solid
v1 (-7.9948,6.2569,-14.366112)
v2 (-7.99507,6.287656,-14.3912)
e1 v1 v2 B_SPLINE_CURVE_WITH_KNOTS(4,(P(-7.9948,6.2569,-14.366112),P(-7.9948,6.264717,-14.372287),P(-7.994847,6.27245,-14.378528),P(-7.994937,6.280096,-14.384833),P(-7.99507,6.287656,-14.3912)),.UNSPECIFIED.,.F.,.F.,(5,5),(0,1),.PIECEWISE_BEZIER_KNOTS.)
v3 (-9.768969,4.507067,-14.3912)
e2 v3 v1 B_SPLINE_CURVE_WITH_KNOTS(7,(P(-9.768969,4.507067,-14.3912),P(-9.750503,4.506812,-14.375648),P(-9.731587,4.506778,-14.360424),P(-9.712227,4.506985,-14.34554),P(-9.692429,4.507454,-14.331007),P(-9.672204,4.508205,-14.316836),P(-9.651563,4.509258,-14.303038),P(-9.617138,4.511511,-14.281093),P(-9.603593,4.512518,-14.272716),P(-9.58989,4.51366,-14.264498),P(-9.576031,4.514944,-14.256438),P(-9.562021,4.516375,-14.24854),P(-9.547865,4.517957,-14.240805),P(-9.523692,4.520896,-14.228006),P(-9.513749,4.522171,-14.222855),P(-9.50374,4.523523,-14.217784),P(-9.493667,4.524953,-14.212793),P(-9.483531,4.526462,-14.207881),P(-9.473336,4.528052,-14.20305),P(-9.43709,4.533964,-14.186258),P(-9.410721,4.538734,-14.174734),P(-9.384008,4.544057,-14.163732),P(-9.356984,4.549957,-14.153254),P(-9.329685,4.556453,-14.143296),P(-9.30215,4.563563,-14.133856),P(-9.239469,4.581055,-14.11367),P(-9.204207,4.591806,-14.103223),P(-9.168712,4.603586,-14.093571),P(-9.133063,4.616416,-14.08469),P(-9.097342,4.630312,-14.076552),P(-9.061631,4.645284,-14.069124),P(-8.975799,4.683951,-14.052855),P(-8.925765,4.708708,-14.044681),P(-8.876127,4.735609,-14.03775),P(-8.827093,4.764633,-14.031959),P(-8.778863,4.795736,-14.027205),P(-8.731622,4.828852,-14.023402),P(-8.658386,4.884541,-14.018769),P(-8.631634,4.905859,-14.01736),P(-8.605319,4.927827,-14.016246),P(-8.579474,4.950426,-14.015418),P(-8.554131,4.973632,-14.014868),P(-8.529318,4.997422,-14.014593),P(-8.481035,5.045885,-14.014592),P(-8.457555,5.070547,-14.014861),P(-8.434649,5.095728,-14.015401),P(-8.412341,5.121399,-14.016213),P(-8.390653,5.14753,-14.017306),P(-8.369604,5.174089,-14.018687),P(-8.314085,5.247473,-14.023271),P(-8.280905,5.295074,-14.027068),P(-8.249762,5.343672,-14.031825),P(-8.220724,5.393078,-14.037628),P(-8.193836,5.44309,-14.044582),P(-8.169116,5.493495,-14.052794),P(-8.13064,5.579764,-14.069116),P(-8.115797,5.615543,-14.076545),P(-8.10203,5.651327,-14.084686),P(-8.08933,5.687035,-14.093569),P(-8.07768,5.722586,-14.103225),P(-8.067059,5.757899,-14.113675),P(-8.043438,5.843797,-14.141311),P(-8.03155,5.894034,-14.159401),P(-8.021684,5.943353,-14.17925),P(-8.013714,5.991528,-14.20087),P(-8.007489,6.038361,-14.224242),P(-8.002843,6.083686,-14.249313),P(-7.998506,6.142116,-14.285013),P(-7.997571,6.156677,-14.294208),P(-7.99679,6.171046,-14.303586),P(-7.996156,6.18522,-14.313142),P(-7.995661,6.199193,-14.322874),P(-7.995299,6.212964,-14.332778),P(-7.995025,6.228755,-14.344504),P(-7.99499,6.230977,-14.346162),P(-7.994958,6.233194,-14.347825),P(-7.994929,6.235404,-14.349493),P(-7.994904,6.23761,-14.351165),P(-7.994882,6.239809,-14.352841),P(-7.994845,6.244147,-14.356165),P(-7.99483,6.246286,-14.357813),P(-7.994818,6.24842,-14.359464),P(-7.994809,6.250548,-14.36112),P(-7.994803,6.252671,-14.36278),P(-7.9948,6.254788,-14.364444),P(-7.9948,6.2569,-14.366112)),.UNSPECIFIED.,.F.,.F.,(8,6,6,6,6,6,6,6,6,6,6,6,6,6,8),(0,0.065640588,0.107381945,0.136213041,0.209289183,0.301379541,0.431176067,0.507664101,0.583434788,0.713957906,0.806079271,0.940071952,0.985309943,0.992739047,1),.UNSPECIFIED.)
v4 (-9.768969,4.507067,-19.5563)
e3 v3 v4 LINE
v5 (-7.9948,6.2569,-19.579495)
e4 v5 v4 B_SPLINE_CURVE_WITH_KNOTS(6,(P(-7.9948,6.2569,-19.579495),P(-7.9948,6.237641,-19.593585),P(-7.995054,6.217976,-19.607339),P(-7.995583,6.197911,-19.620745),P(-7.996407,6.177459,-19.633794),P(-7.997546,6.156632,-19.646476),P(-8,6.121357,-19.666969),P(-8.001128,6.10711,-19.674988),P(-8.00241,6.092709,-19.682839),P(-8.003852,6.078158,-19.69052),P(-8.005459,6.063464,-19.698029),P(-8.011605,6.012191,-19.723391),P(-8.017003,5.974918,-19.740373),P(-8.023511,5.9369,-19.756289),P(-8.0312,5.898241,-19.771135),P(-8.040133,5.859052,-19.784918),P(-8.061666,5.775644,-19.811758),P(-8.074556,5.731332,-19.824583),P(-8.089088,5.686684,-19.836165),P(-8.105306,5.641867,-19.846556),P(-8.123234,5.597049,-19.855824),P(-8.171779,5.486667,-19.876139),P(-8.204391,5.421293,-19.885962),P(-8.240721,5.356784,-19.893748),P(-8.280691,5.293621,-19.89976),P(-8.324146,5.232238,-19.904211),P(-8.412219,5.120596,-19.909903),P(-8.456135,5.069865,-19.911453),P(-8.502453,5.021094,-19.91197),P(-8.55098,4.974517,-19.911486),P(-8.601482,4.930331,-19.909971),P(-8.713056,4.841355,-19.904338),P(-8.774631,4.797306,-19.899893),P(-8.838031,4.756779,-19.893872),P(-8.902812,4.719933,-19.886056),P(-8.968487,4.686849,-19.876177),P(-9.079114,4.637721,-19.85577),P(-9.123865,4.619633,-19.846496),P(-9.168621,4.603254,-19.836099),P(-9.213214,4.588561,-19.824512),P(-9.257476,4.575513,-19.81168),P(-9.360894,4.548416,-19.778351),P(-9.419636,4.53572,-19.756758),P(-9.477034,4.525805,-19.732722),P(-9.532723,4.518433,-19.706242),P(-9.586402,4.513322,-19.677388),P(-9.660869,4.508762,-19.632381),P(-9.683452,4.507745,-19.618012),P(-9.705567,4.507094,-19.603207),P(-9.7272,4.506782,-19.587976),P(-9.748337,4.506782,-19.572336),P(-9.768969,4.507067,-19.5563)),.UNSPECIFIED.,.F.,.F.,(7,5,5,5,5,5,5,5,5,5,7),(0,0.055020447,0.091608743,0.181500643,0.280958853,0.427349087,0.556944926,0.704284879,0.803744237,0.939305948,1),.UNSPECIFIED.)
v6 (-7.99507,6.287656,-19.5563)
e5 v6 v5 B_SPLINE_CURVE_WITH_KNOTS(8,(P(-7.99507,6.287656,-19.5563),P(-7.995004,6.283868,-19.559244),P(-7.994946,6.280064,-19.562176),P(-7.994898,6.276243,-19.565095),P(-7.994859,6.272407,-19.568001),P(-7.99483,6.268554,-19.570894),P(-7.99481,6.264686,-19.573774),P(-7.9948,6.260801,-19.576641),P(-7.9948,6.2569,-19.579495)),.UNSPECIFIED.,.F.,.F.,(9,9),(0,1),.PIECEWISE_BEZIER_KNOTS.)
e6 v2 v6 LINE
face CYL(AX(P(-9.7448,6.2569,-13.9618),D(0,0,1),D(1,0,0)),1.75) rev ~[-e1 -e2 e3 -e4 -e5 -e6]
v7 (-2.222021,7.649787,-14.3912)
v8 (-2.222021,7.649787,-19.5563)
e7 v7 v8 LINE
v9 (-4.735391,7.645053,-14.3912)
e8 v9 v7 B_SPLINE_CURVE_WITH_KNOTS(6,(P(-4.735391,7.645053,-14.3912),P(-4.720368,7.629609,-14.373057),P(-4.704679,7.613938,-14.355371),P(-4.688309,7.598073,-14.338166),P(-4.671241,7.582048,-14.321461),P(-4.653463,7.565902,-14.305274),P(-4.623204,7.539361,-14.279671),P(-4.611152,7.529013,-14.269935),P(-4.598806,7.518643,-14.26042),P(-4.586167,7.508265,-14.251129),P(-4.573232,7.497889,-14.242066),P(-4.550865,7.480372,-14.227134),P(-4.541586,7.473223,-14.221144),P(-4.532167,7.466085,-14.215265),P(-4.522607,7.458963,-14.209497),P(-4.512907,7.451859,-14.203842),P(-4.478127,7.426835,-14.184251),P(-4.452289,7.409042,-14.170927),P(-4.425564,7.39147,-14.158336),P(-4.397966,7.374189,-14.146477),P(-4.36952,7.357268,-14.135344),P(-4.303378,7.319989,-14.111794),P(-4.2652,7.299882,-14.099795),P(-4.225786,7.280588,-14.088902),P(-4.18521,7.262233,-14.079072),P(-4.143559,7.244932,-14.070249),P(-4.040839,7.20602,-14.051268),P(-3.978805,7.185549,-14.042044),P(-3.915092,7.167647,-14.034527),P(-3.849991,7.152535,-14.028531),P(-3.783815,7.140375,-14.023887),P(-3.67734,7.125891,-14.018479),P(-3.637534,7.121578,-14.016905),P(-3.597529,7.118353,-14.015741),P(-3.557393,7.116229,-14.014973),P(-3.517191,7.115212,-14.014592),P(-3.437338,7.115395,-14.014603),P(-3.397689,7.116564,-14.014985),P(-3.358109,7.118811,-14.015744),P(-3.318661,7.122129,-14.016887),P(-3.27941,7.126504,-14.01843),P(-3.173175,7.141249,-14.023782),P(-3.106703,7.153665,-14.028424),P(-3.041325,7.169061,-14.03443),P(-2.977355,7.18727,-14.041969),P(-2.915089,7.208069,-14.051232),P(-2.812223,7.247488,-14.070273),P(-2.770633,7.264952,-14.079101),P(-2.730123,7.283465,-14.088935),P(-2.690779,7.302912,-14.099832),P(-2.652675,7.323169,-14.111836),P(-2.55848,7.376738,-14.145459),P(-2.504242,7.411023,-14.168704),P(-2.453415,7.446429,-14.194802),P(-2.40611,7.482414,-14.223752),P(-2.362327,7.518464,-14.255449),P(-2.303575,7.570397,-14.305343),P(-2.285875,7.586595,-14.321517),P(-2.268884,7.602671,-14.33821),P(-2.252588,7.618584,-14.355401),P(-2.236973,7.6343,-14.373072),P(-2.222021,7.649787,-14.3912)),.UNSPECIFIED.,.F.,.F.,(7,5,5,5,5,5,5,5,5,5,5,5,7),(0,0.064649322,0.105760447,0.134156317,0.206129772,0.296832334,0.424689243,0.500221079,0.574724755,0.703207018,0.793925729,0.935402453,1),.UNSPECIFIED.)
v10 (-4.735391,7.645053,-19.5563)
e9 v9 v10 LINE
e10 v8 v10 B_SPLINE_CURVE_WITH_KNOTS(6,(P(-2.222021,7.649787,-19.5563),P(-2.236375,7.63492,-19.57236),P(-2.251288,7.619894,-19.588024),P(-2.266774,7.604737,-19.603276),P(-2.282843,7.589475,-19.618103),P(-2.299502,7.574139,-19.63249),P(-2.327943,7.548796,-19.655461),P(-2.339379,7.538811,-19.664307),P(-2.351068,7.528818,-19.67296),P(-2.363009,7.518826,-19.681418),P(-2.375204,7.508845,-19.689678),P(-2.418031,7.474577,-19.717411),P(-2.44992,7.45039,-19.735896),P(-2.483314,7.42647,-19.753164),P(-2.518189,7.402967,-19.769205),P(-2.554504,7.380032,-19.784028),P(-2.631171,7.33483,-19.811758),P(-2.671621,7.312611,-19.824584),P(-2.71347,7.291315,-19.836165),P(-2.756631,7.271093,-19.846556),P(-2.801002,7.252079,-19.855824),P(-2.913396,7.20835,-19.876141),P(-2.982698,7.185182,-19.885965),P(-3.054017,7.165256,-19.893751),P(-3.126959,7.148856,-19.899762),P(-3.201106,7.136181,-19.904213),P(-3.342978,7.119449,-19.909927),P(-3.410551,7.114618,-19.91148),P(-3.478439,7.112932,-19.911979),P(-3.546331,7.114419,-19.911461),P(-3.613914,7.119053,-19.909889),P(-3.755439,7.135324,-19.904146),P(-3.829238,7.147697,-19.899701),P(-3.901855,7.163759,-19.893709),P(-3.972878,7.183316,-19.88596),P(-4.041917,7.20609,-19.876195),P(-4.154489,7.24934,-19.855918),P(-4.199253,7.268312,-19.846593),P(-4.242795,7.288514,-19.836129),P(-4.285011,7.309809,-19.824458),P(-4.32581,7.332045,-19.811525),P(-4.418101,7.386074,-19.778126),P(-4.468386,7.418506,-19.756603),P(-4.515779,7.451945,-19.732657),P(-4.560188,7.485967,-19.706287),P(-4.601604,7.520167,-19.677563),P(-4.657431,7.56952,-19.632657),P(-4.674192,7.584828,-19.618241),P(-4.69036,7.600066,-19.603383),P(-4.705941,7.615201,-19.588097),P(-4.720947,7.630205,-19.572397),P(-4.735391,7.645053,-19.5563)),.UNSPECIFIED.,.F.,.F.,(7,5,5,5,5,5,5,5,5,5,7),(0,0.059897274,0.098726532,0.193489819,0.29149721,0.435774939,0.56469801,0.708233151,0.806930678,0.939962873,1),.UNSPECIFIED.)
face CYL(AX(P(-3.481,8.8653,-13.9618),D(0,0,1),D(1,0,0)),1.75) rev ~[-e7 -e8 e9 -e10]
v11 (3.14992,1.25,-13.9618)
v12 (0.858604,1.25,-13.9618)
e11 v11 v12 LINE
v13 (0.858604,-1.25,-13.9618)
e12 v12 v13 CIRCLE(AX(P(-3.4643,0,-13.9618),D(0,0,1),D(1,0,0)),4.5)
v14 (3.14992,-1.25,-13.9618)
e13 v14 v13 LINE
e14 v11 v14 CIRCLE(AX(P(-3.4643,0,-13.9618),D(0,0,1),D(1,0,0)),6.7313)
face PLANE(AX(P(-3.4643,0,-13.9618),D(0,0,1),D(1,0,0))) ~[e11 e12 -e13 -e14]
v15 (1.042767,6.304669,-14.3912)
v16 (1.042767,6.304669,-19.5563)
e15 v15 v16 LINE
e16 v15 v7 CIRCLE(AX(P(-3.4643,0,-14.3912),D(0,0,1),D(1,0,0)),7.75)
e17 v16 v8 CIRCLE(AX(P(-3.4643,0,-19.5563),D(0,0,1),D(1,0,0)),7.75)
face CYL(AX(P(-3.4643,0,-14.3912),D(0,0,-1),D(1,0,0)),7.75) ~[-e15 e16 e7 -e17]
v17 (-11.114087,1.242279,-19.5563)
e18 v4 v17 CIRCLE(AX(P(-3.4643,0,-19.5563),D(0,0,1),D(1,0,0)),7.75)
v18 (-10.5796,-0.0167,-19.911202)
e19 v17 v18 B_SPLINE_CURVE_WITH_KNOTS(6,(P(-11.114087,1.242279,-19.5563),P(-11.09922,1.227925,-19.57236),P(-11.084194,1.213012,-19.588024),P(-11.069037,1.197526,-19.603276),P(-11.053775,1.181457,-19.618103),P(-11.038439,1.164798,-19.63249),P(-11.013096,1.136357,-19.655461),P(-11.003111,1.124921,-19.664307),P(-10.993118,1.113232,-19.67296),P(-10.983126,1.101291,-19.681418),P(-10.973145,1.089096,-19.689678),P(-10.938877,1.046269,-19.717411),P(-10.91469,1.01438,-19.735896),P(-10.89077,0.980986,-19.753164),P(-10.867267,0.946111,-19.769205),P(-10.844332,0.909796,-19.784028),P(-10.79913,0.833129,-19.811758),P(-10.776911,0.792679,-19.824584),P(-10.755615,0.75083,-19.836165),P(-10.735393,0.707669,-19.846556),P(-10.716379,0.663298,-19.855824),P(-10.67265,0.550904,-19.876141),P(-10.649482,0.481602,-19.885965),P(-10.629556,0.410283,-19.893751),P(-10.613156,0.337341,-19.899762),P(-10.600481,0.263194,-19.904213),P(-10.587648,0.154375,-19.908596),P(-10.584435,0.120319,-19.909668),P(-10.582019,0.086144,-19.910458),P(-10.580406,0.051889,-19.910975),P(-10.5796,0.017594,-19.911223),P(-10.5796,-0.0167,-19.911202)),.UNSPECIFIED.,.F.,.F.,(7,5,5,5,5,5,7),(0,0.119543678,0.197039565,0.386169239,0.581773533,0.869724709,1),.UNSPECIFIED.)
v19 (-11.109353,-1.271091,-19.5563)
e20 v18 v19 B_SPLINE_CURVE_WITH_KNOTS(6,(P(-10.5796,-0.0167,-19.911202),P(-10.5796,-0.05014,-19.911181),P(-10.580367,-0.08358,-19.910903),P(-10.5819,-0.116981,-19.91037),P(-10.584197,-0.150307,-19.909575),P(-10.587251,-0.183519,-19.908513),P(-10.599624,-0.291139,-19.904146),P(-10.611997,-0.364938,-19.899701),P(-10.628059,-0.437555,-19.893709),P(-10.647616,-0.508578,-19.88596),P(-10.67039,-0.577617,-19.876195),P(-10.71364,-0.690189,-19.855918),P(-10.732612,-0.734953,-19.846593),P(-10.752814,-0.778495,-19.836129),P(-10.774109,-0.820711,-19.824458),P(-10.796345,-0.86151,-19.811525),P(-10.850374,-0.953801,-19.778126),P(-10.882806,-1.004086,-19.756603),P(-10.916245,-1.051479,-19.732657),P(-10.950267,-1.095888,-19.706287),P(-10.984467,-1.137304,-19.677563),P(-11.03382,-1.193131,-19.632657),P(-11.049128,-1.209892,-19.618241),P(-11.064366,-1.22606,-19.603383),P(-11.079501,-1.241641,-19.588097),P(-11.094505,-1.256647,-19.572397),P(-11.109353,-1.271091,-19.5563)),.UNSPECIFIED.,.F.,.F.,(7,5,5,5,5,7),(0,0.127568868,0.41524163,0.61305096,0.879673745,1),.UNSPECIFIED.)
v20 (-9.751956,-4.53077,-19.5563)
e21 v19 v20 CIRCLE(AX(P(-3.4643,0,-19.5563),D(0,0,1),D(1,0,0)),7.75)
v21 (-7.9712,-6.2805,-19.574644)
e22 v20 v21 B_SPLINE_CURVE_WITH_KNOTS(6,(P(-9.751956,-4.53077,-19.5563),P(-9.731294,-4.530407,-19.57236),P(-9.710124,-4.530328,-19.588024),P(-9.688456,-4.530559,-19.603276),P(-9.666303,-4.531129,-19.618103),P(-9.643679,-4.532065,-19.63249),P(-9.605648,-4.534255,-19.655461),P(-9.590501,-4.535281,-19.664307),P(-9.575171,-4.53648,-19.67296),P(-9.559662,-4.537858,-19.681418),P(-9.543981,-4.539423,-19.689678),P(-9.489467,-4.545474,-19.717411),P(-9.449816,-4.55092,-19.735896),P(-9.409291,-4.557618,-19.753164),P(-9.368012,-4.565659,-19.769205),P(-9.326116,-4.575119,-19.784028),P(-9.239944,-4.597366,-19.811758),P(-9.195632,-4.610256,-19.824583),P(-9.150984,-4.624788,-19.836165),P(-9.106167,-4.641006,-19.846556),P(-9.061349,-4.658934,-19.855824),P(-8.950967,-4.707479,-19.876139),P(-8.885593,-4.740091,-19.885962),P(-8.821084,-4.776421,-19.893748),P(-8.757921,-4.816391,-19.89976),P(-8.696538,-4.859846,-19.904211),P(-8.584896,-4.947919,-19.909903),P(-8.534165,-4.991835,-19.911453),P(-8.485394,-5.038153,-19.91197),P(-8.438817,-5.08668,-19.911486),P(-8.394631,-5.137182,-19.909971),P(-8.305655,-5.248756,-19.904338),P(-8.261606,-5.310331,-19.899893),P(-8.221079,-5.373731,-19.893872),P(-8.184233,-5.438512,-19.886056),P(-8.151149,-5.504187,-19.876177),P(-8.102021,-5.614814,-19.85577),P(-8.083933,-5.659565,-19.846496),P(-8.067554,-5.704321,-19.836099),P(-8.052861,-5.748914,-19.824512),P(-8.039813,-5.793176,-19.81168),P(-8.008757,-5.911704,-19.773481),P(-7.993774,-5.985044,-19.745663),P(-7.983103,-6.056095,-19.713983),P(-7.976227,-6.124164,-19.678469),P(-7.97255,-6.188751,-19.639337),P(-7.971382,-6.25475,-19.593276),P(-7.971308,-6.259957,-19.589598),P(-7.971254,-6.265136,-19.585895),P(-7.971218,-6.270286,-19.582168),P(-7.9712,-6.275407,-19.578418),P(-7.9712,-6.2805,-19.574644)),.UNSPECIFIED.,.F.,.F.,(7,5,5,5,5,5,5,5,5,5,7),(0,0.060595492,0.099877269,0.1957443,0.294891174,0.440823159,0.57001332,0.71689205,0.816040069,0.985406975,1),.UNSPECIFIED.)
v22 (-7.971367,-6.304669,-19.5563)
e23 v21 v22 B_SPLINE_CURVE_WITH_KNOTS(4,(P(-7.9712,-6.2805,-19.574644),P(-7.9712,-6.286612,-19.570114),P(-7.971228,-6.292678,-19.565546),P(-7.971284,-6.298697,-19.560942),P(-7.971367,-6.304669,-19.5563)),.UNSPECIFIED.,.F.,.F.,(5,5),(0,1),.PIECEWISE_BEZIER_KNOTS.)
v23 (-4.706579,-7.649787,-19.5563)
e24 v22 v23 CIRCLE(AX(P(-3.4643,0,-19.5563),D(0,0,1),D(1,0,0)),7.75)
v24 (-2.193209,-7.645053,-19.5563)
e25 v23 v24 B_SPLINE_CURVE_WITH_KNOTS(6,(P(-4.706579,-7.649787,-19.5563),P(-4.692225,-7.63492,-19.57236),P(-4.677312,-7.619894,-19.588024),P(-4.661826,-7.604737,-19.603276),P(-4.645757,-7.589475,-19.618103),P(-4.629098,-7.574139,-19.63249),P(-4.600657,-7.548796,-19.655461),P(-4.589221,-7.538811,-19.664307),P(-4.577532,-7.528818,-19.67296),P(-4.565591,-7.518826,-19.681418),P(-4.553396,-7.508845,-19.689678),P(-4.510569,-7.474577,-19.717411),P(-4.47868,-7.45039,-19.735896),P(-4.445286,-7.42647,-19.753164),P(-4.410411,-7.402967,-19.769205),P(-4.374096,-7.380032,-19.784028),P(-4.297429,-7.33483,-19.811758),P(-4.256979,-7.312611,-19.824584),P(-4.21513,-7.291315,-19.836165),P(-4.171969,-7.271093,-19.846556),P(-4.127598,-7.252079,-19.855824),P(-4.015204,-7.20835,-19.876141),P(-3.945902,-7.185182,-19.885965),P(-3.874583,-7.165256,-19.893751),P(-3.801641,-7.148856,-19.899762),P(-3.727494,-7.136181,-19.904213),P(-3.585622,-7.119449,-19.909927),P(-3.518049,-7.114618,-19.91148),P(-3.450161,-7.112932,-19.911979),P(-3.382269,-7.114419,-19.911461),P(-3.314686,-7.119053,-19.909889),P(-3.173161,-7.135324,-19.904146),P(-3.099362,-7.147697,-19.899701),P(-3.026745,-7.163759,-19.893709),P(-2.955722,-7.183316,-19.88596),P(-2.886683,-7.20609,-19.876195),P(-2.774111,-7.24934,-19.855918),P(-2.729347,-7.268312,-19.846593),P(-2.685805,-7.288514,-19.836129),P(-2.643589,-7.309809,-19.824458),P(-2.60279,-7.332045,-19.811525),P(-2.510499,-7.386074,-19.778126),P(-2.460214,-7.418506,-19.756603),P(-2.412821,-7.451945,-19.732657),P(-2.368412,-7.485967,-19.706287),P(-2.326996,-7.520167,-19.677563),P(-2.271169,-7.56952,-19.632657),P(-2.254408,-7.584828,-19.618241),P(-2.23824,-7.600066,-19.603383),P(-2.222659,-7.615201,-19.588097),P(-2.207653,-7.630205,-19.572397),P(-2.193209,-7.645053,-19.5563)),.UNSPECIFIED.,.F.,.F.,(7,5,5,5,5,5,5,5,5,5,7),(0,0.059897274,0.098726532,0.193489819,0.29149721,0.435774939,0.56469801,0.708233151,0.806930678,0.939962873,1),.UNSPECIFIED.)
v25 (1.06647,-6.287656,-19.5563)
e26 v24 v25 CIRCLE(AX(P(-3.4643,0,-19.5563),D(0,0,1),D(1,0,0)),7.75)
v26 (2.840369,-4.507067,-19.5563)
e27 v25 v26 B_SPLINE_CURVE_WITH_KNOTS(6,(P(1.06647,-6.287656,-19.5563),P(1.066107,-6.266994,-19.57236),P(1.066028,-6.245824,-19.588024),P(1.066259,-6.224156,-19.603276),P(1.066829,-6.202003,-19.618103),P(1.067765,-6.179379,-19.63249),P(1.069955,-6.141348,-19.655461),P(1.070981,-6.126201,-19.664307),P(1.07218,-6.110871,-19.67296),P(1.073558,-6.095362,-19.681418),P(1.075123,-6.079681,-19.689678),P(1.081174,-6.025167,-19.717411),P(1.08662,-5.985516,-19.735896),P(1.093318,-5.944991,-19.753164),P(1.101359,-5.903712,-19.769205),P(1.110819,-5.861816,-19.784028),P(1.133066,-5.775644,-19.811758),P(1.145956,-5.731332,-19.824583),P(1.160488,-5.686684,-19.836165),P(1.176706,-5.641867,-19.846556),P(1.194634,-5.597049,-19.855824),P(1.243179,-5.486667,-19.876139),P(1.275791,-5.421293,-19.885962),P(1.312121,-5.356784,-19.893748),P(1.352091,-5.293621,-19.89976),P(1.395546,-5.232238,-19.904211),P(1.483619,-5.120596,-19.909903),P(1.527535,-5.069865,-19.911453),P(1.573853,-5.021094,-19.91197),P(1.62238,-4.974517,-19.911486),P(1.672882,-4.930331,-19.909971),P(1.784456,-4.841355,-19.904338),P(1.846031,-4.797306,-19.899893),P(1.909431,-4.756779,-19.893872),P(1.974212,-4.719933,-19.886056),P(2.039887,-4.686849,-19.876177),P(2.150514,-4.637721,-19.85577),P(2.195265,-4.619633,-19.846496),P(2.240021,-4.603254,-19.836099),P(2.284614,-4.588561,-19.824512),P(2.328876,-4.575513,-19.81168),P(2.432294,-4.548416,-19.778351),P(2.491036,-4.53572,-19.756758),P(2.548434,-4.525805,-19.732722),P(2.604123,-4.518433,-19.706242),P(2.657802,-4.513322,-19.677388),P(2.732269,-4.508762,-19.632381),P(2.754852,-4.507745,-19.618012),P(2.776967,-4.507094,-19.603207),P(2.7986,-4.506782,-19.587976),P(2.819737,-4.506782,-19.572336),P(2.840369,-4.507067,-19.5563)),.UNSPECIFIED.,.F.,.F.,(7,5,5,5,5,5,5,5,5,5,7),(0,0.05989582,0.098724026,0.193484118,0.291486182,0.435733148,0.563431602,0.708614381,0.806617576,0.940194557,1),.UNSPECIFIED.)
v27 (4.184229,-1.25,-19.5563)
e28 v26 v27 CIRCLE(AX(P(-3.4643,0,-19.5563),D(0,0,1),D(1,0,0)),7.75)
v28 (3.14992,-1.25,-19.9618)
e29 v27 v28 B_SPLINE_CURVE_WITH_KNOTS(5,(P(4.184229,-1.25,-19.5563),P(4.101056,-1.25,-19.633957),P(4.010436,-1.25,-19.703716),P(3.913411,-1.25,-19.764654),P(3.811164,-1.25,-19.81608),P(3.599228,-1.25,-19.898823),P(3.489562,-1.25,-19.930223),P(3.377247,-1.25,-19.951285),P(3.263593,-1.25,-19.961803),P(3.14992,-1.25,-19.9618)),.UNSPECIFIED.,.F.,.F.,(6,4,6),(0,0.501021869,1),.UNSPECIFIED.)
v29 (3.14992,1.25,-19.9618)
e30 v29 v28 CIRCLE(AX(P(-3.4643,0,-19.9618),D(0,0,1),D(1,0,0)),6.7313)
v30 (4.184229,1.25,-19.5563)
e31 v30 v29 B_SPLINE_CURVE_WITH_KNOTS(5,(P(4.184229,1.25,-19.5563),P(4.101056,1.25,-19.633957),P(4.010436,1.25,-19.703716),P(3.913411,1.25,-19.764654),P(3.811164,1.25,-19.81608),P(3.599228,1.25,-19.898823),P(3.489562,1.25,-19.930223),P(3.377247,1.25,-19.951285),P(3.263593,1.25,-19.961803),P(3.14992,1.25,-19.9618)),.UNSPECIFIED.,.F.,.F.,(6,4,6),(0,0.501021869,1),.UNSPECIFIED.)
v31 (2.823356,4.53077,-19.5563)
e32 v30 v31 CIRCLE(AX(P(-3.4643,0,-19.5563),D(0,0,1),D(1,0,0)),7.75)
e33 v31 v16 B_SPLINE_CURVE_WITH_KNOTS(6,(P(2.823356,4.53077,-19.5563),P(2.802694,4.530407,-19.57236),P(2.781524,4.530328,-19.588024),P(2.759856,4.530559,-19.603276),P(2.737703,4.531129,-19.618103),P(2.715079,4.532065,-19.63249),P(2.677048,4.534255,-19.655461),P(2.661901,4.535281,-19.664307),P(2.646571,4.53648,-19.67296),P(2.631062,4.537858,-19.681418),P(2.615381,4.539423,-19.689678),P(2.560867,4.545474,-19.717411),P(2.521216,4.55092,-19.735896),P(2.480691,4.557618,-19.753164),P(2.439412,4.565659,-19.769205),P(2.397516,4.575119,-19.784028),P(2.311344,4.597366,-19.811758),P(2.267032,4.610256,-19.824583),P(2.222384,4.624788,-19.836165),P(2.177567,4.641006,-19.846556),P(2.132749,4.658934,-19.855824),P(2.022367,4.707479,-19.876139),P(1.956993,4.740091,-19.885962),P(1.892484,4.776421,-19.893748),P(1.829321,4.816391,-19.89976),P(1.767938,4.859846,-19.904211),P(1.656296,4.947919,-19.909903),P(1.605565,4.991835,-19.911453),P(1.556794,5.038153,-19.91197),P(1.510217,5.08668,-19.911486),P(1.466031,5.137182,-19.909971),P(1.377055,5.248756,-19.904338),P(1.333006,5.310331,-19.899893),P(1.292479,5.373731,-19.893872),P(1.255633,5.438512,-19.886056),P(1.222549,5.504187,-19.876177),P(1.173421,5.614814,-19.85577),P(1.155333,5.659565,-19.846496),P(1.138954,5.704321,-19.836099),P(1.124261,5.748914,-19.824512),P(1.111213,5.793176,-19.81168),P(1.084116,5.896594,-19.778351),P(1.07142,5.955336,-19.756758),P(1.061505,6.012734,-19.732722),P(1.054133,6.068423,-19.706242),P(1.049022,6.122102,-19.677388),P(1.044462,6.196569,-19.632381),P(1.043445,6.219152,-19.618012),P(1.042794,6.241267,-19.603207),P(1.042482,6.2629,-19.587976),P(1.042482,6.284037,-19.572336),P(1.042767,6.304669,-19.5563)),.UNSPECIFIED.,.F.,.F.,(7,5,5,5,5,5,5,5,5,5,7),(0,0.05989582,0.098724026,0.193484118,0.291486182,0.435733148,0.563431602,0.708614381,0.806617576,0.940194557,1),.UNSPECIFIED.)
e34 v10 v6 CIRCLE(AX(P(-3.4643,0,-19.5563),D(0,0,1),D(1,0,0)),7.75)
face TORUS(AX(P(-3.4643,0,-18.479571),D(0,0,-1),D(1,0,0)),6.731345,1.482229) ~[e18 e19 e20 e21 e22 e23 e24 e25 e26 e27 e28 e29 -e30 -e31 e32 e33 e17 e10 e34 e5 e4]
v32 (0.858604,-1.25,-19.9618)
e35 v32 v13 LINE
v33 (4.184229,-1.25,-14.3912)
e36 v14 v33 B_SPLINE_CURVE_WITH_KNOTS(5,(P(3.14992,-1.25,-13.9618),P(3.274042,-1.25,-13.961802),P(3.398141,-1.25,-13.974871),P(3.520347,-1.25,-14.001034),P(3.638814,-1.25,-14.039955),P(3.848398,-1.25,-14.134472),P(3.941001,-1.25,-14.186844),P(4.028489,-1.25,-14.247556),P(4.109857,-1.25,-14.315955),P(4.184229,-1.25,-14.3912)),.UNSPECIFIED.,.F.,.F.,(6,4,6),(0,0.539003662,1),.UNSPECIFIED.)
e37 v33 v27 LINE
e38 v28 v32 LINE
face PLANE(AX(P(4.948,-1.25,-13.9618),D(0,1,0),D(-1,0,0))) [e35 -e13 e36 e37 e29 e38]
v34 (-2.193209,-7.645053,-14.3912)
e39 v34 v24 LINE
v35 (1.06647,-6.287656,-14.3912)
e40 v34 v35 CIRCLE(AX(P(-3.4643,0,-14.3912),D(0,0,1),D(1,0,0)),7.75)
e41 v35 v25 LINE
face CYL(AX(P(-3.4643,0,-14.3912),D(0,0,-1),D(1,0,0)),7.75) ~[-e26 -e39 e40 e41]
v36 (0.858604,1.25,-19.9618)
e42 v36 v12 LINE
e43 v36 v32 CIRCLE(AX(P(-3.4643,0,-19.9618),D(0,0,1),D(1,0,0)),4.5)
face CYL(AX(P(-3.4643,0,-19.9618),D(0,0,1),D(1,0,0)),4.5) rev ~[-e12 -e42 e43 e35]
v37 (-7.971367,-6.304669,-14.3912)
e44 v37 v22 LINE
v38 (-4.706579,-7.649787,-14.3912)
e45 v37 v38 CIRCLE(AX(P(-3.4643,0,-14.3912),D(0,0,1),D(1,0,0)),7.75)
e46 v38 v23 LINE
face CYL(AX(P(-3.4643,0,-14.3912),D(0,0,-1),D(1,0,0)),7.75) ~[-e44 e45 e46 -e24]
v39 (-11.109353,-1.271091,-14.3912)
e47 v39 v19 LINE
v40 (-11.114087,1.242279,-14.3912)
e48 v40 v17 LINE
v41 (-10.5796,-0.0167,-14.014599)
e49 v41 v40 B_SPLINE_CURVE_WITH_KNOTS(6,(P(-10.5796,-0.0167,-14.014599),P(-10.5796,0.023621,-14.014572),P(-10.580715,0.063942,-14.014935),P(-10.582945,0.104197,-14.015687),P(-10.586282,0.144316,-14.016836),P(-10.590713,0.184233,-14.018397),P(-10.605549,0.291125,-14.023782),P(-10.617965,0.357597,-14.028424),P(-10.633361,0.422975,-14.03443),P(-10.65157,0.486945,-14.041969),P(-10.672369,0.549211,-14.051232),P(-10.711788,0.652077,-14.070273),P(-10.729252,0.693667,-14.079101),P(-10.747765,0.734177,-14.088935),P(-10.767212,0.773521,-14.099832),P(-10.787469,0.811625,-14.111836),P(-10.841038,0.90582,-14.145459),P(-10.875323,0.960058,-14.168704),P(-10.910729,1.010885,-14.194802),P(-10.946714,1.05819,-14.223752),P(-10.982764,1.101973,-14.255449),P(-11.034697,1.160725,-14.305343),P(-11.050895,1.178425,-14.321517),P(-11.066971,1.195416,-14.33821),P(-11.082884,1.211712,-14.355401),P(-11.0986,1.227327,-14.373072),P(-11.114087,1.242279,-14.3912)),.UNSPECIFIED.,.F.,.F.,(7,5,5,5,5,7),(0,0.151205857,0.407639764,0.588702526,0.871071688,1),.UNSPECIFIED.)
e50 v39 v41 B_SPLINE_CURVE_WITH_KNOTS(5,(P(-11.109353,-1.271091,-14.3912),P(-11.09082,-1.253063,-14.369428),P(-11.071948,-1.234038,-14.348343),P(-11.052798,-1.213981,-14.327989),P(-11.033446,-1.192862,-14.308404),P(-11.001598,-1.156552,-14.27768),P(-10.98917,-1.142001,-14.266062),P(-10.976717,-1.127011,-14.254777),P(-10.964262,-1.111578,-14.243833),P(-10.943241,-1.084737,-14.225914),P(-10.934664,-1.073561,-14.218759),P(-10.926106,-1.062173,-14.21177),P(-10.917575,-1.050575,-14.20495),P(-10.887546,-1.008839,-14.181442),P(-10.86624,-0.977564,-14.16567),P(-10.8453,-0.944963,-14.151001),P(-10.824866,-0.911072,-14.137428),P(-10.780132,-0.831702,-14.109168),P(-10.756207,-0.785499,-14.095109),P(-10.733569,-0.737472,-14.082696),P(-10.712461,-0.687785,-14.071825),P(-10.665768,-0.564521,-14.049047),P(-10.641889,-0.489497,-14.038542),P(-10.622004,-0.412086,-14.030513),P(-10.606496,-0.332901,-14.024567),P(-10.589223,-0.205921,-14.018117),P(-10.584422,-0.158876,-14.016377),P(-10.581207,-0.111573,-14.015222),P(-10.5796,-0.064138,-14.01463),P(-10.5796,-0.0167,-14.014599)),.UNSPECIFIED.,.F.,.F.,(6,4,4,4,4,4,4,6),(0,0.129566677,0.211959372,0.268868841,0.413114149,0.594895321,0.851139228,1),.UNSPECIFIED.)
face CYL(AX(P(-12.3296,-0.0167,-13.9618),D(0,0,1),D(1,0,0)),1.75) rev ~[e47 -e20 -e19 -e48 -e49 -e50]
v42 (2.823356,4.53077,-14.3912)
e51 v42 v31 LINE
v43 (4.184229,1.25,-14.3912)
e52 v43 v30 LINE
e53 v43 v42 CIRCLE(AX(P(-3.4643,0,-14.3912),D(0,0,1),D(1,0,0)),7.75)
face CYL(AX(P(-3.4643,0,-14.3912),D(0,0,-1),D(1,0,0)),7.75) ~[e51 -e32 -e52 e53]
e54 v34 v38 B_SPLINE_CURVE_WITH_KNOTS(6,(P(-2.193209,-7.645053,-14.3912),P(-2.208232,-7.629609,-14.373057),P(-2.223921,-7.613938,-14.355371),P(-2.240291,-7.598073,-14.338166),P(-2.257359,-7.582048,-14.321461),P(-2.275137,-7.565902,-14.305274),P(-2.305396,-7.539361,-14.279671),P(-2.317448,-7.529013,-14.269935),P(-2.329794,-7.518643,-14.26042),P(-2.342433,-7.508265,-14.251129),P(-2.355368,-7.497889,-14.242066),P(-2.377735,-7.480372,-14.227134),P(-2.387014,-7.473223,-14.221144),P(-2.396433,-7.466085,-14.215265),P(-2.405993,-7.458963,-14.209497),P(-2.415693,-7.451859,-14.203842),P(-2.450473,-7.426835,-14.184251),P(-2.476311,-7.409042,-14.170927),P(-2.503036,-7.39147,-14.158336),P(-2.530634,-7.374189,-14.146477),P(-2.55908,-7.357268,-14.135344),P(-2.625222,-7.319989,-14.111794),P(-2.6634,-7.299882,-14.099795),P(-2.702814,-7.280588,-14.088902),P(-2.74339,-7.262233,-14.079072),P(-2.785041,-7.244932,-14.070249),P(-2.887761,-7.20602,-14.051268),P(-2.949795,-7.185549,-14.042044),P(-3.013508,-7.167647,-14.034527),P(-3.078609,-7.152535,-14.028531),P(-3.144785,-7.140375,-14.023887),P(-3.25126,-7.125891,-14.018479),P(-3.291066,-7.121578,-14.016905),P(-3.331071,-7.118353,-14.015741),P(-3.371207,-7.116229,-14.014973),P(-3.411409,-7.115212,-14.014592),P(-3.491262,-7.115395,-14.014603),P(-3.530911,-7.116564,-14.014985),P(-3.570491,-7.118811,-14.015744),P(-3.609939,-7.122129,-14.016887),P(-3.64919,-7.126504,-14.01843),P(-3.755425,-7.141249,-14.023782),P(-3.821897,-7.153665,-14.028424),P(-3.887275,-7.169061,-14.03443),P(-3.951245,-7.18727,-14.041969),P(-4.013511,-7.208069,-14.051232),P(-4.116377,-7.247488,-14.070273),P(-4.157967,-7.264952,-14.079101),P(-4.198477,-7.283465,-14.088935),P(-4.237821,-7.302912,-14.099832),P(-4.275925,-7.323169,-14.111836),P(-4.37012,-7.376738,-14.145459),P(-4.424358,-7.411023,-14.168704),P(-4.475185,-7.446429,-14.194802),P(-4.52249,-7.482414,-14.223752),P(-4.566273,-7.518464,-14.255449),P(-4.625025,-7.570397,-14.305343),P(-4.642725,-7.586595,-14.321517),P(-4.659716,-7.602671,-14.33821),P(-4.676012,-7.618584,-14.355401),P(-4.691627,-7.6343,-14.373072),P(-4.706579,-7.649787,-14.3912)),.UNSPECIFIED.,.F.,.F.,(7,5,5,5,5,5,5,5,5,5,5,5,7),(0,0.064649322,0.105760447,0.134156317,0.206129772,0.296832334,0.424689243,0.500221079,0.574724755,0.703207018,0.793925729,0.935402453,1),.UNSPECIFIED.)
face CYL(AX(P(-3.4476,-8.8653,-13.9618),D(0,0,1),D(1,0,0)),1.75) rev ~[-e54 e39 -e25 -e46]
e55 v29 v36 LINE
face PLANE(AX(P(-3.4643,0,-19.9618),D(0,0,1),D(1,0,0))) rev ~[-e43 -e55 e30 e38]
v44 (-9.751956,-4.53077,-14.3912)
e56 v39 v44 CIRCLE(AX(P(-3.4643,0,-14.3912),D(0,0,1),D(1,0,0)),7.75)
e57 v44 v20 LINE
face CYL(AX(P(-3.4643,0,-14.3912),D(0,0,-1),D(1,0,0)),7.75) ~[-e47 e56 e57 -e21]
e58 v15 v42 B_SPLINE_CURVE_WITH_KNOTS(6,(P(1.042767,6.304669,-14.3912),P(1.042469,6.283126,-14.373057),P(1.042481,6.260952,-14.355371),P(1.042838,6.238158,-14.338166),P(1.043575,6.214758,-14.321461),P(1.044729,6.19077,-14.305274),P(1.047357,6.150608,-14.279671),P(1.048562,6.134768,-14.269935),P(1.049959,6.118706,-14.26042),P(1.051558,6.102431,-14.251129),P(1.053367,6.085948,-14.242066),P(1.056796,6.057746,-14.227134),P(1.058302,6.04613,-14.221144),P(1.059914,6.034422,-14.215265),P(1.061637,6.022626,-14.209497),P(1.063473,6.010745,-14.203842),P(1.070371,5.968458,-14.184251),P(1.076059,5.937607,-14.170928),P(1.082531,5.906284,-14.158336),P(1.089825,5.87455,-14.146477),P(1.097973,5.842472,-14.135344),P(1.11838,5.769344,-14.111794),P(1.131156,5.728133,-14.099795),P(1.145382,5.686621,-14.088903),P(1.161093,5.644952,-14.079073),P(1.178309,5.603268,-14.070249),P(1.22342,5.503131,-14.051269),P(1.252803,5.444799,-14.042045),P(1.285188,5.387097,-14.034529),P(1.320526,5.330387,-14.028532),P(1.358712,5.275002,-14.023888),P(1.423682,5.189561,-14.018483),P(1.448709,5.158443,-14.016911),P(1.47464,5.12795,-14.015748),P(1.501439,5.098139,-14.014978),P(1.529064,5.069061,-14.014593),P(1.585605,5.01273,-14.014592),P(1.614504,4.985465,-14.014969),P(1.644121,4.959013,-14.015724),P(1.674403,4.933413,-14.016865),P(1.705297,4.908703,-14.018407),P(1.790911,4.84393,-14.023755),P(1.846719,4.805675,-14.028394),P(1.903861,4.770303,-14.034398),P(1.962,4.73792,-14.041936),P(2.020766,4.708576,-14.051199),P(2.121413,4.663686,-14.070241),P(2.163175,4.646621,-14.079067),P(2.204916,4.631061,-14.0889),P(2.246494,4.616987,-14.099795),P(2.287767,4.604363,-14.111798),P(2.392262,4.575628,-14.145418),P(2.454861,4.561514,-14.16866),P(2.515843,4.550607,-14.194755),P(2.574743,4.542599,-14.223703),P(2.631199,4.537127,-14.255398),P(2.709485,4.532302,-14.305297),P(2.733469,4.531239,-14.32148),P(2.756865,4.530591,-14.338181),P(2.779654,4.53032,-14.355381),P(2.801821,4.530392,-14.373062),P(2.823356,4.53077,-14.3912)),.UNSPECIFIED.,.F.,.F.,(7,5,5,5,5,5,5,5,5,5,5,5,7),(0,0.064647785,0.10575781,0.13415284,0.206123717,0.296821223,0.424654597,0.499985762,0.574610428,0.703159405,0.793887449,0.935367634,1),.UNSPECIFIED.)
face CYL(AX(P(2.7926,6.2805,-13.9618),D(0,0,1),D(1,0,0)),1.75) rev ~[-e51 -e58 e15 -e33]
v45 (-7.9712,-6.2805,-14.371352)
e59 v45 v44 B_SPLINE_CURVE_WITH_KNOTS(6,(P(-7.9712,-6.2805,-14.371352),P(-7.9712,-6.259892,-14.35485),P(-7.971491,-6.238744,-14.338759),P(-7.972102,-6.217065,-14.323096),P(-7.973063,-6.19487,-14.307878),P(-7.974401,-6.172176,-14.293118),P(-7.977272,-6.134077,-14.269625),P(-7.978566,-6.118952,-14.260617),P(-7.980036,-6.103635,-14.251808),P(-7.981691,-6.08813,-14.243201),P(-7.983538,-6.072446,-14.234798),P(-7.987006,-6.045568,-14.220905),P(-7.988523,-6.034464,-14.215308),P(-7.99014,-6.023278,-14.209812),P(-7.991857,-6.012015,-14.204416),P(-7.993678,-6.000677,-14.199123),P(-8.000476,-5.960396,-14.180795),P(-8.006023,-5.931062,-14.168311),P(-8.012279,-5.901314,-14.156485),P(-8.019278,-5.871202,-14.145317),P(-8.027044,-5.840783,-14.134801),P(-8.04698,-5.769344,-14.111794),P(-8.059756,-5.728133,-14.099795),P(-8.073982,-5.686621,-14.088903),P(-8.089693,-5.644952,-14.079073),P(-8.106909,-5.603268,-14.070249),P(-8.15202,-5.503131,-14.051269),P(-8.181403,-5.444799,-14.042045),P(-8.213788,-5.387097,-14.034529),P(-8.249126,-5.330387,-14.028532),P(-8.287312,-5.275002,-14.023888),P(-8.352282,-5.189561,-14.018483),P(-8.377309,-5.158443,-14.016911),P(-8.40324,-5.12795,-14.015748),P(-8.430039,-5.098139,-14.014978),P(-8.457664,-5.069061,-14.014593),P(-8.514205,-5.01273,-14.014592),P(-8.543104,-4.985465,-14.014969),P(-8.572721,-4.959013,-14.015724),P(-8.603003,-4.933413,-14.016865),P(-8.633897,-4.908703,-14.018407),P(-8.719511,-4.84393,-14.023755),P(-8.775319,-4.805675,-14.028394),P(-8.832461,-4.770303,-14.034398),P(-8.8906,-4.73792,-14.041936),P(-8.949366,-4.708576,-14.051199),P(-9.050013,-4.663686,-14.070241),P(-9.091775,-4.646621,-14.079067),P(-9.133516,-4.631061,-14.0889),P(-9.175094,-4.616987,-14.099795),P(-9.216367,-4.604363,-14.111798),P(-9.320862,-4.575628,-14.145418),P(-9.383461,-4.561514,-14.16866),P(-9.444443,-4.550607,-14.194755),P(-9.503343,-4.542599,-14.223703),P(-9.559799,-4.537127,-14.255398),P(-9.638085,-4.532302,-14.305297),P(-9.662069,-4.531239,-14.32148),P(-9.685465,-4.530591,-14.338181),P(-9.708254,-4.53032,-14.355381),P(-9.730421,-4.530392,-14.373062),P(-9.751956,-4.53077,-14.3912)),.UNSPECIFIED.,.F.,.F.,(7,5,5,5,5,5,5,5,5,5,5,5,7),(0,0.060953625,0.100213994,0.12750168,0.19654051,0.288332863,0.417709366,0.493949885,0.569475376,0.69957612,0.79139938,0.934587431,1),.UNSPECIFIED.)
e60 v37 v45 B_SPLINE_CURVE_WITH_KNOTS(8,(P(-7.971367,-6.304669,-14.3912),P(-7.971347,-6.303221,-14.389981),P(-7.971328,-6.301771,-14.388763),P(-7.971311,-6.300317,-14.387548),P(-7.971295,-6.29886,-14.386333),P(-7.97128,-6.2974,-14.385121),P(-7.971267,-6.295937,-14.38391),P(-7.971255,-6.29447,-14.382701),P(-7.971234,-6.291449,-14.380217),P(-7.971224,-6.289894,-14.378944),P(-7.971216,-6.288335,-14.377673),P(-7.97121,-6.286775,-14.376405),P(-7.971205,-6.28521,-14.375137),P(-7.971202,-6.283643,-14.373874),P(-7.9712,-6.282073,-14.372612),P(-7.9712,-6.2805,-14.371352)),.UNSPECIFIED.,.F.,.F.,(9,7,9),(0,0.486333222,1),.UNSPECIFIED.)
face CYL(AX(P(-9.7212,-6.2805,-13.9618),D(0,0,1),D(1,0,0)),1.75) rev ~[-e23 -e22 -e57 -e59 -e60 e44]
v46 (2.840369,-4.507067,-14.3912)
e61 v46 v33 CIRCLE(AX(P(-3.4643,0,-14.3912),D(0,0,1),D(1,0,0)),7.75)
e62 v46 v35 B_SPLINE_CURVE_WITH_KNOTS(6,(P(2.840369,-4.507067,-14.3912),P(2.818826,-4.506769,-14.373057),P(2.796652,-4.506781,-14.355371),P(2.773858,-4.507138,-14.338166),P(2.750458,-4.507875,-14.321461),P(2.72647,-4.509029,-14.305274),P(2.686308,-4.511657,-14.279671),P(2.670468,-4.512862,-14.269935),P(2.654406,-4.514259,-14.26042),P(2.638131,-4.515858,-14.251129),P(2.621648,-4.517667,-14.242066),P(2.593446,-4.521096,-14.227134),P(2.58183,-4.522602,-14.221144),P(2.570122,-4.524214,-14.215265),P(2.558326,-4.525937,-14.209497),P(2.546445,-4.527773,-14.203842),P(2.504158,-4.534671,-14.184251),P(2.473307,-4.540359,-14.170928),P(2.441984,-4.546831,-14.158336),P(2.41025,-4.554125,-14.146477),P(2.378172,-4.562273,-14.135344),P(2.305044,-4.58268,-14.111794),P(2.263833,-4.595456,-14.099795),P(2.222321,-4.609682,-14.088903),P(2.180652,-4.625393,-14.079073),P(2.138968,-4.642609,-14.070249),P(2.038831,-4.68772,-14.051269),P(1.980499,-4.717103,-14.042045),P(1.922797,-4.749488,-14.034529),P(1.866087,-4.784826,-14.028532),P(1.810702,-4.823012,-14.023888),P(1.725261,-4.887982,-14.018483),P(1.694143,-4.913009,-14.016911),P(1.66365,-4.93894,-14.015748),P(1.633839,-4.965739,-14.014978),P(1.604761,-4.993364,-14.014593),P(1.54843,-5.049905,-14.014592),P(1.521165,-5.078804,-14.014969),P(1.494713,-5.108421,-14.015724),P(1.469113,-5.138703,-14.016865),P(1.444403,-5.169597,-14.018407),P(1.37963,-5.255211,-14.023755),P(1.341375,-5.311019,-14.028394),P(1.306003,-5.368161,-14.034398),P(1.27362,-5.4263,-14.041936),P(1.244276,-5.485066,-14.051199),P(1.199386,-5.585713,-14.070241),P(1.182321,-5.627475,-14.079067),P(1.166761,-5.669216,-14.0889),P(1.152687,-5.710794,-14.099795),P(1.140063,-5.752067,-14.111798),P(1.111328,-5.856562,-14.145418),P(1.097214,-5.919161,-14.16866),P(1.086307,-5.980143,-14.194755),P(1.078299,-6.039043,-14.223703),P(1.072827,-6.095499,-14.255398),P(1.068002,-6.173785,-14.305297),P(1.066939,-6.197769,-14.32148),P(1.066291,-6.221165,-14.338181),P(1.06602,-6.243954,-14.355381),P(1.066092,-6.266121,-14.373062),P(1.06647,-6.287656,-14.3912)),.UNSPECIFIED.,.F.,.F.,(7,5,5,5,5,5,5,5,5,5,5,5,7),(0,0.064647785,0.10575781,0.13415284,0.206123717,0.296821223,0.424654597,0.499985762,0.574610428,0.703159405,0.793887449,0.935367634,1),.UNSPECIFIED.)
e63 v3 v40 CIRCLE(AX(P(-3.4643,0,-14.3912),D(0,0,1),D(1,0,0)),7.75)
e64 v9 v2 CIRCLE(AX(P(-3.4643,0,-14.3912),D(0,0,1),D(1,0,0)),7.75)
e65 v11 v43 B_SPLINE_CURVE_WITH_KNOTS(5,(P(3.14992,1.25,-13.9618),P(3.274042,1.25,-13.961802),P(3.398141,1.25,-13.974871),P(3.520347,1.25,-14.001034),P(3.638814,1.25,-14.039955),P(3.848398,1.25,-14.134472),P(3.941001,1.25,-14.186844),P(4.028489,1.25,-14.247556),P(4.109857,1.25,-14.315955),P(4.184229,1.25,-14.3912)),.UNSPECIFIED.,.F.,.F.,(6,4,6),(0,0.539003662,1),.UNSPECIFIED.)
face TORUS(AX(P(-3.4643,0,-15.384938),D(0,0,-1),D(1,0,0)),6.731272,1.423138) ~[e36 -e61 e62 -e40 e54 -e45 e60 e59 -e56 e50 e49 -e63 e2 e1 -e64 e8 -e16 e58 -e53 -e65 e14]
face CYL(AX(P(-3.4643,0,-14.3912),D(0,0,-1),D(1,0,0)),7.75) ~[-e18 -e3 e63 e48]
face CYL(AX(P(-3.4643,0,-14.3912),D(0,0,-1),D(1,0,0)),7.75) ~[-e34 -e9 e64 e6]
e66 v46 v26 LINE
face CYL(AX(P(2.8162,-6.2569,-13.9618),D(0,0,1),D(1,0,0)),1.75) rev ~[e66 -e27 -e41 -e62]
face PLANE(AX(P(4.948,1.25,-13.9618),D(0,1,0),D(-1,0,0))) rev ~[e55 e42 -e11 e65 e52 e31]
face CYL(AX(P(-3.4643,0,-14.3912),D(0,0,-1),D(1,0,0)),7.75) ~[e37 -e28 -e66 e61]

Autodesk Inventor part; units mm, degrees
ref_plane "YZ Plane" through (0, 0, 0) normal (1, 0, 0) x (0, 1, 0)
ref_plane "XZ Plane" through (0, 0, 0) normal (0, 1, 0) x (-1, 0, 0)
ref_plane "XY Plane" through (0, 0, 0) normal (0, 0, 1) x (1, 0, 0)
sketch "Sketch1" plane through (0, 0, 0) normal (0, 1, 0) x (-1, 0, 0)
  line L0 (-1.1714, -12.4618) -> (-1.1714, -27.4618) construction
  line L1 (8.1, -25.7) -> (8.1, -10.7) construction
  line L2 (-1.1714, -21.2152) -> (8.1, -21.2152) construction
  line L3 (3.4643, -21.2152) -> (3.4643, 9.1343) construction
  line L4 (-3.267, -19.9618) -> (-1.0357, -19.9618)
  line L5 (-1.0357, -19.9618) -> (-1.0357, -13.9618)
  line L6 (-1.0357, -13.9618) -> (-3.267, -13.9618)
  line L7 (-4.2857, -14.3912) -> (-4.2857, -19.5563)
  arc A0 (-4.2857, -19.5563) -> (-3.267, -19.9618) centre (-3.267, -18.4795) ccw
  arc A1 (-3.267, -13.9618) -> (-4.2857, -14.3912) centre (-3.267, -15.3848) ccw
  point P0 (0, 0)
  dimension "d0" = 7.75
  dimension "d1" = 4.5
  dimension "d2" = 6
revolve "Revolution1" add sketch "Sketch1" angle 360 about axis through (-3.4643, 0, -21.2152) along (0, 0, 1)
sketch "Sketch2" plane through (-3.4643, 0, -13.9618) normal (0, 0, 1) x (1, 0, 0)
  circle A0 centre (0.0167, -8.8653) radius 1.75
  circle A1 centre (6.2805, -6.2569) radius 1.75
  circle A2 centre (8.8653, 0.0167) radius 1.75
  circle A3 centre (6.2569, 6.2805) radius 1.75
  circle A4 centre (-0.0167, 8.8653) radius 1.75
  circle A5 centre (-6.2805, 6.2569) radius 1.75
  circle A6 centre (-8.8653, -0.0167) radius 1.75
  circle A7 centre (-6.2569, -6.2805) radius 1.75
  point P0 (3.4643, 0)
  point P1 (0, 0)
  dimension "d4" = 3.5
  dimension "d7" = 360
extrude "Extrusion1" cut sketch "Sketch2" against normal blind 10 contours A0 | A1 | A3 | A4 | A5 | A6 | A7
sketch "Sketch3" plane through (-3.4643, 0, -13.9618) normal (0, 0, 1) x (1, 0, 0)
  line L0 (0, 0) -> (8.4123, 0) construction
  line L1 (8.4123, 0) -> (8.4123, -1.25)
  line L2 (8.4123, -1.25) -> (0, -1.25)
  line L3 (0, -1.25) -> (0, 0)
  line L4 (8.4123, 0) -> (8.4123, 1.25)
  line L5 (8.4123, 1.25) -> (0, 1.25)
  line L6 (0, 1.25) -> (0, 0)
  point P0 (3.4643, 0)
  dimension "d11" = 1.25
extrude "Extrusion2" cut sketch "Sketch3" against normal blind 10
properties part number "PWTR-0108" material "Aluminum 6061"
